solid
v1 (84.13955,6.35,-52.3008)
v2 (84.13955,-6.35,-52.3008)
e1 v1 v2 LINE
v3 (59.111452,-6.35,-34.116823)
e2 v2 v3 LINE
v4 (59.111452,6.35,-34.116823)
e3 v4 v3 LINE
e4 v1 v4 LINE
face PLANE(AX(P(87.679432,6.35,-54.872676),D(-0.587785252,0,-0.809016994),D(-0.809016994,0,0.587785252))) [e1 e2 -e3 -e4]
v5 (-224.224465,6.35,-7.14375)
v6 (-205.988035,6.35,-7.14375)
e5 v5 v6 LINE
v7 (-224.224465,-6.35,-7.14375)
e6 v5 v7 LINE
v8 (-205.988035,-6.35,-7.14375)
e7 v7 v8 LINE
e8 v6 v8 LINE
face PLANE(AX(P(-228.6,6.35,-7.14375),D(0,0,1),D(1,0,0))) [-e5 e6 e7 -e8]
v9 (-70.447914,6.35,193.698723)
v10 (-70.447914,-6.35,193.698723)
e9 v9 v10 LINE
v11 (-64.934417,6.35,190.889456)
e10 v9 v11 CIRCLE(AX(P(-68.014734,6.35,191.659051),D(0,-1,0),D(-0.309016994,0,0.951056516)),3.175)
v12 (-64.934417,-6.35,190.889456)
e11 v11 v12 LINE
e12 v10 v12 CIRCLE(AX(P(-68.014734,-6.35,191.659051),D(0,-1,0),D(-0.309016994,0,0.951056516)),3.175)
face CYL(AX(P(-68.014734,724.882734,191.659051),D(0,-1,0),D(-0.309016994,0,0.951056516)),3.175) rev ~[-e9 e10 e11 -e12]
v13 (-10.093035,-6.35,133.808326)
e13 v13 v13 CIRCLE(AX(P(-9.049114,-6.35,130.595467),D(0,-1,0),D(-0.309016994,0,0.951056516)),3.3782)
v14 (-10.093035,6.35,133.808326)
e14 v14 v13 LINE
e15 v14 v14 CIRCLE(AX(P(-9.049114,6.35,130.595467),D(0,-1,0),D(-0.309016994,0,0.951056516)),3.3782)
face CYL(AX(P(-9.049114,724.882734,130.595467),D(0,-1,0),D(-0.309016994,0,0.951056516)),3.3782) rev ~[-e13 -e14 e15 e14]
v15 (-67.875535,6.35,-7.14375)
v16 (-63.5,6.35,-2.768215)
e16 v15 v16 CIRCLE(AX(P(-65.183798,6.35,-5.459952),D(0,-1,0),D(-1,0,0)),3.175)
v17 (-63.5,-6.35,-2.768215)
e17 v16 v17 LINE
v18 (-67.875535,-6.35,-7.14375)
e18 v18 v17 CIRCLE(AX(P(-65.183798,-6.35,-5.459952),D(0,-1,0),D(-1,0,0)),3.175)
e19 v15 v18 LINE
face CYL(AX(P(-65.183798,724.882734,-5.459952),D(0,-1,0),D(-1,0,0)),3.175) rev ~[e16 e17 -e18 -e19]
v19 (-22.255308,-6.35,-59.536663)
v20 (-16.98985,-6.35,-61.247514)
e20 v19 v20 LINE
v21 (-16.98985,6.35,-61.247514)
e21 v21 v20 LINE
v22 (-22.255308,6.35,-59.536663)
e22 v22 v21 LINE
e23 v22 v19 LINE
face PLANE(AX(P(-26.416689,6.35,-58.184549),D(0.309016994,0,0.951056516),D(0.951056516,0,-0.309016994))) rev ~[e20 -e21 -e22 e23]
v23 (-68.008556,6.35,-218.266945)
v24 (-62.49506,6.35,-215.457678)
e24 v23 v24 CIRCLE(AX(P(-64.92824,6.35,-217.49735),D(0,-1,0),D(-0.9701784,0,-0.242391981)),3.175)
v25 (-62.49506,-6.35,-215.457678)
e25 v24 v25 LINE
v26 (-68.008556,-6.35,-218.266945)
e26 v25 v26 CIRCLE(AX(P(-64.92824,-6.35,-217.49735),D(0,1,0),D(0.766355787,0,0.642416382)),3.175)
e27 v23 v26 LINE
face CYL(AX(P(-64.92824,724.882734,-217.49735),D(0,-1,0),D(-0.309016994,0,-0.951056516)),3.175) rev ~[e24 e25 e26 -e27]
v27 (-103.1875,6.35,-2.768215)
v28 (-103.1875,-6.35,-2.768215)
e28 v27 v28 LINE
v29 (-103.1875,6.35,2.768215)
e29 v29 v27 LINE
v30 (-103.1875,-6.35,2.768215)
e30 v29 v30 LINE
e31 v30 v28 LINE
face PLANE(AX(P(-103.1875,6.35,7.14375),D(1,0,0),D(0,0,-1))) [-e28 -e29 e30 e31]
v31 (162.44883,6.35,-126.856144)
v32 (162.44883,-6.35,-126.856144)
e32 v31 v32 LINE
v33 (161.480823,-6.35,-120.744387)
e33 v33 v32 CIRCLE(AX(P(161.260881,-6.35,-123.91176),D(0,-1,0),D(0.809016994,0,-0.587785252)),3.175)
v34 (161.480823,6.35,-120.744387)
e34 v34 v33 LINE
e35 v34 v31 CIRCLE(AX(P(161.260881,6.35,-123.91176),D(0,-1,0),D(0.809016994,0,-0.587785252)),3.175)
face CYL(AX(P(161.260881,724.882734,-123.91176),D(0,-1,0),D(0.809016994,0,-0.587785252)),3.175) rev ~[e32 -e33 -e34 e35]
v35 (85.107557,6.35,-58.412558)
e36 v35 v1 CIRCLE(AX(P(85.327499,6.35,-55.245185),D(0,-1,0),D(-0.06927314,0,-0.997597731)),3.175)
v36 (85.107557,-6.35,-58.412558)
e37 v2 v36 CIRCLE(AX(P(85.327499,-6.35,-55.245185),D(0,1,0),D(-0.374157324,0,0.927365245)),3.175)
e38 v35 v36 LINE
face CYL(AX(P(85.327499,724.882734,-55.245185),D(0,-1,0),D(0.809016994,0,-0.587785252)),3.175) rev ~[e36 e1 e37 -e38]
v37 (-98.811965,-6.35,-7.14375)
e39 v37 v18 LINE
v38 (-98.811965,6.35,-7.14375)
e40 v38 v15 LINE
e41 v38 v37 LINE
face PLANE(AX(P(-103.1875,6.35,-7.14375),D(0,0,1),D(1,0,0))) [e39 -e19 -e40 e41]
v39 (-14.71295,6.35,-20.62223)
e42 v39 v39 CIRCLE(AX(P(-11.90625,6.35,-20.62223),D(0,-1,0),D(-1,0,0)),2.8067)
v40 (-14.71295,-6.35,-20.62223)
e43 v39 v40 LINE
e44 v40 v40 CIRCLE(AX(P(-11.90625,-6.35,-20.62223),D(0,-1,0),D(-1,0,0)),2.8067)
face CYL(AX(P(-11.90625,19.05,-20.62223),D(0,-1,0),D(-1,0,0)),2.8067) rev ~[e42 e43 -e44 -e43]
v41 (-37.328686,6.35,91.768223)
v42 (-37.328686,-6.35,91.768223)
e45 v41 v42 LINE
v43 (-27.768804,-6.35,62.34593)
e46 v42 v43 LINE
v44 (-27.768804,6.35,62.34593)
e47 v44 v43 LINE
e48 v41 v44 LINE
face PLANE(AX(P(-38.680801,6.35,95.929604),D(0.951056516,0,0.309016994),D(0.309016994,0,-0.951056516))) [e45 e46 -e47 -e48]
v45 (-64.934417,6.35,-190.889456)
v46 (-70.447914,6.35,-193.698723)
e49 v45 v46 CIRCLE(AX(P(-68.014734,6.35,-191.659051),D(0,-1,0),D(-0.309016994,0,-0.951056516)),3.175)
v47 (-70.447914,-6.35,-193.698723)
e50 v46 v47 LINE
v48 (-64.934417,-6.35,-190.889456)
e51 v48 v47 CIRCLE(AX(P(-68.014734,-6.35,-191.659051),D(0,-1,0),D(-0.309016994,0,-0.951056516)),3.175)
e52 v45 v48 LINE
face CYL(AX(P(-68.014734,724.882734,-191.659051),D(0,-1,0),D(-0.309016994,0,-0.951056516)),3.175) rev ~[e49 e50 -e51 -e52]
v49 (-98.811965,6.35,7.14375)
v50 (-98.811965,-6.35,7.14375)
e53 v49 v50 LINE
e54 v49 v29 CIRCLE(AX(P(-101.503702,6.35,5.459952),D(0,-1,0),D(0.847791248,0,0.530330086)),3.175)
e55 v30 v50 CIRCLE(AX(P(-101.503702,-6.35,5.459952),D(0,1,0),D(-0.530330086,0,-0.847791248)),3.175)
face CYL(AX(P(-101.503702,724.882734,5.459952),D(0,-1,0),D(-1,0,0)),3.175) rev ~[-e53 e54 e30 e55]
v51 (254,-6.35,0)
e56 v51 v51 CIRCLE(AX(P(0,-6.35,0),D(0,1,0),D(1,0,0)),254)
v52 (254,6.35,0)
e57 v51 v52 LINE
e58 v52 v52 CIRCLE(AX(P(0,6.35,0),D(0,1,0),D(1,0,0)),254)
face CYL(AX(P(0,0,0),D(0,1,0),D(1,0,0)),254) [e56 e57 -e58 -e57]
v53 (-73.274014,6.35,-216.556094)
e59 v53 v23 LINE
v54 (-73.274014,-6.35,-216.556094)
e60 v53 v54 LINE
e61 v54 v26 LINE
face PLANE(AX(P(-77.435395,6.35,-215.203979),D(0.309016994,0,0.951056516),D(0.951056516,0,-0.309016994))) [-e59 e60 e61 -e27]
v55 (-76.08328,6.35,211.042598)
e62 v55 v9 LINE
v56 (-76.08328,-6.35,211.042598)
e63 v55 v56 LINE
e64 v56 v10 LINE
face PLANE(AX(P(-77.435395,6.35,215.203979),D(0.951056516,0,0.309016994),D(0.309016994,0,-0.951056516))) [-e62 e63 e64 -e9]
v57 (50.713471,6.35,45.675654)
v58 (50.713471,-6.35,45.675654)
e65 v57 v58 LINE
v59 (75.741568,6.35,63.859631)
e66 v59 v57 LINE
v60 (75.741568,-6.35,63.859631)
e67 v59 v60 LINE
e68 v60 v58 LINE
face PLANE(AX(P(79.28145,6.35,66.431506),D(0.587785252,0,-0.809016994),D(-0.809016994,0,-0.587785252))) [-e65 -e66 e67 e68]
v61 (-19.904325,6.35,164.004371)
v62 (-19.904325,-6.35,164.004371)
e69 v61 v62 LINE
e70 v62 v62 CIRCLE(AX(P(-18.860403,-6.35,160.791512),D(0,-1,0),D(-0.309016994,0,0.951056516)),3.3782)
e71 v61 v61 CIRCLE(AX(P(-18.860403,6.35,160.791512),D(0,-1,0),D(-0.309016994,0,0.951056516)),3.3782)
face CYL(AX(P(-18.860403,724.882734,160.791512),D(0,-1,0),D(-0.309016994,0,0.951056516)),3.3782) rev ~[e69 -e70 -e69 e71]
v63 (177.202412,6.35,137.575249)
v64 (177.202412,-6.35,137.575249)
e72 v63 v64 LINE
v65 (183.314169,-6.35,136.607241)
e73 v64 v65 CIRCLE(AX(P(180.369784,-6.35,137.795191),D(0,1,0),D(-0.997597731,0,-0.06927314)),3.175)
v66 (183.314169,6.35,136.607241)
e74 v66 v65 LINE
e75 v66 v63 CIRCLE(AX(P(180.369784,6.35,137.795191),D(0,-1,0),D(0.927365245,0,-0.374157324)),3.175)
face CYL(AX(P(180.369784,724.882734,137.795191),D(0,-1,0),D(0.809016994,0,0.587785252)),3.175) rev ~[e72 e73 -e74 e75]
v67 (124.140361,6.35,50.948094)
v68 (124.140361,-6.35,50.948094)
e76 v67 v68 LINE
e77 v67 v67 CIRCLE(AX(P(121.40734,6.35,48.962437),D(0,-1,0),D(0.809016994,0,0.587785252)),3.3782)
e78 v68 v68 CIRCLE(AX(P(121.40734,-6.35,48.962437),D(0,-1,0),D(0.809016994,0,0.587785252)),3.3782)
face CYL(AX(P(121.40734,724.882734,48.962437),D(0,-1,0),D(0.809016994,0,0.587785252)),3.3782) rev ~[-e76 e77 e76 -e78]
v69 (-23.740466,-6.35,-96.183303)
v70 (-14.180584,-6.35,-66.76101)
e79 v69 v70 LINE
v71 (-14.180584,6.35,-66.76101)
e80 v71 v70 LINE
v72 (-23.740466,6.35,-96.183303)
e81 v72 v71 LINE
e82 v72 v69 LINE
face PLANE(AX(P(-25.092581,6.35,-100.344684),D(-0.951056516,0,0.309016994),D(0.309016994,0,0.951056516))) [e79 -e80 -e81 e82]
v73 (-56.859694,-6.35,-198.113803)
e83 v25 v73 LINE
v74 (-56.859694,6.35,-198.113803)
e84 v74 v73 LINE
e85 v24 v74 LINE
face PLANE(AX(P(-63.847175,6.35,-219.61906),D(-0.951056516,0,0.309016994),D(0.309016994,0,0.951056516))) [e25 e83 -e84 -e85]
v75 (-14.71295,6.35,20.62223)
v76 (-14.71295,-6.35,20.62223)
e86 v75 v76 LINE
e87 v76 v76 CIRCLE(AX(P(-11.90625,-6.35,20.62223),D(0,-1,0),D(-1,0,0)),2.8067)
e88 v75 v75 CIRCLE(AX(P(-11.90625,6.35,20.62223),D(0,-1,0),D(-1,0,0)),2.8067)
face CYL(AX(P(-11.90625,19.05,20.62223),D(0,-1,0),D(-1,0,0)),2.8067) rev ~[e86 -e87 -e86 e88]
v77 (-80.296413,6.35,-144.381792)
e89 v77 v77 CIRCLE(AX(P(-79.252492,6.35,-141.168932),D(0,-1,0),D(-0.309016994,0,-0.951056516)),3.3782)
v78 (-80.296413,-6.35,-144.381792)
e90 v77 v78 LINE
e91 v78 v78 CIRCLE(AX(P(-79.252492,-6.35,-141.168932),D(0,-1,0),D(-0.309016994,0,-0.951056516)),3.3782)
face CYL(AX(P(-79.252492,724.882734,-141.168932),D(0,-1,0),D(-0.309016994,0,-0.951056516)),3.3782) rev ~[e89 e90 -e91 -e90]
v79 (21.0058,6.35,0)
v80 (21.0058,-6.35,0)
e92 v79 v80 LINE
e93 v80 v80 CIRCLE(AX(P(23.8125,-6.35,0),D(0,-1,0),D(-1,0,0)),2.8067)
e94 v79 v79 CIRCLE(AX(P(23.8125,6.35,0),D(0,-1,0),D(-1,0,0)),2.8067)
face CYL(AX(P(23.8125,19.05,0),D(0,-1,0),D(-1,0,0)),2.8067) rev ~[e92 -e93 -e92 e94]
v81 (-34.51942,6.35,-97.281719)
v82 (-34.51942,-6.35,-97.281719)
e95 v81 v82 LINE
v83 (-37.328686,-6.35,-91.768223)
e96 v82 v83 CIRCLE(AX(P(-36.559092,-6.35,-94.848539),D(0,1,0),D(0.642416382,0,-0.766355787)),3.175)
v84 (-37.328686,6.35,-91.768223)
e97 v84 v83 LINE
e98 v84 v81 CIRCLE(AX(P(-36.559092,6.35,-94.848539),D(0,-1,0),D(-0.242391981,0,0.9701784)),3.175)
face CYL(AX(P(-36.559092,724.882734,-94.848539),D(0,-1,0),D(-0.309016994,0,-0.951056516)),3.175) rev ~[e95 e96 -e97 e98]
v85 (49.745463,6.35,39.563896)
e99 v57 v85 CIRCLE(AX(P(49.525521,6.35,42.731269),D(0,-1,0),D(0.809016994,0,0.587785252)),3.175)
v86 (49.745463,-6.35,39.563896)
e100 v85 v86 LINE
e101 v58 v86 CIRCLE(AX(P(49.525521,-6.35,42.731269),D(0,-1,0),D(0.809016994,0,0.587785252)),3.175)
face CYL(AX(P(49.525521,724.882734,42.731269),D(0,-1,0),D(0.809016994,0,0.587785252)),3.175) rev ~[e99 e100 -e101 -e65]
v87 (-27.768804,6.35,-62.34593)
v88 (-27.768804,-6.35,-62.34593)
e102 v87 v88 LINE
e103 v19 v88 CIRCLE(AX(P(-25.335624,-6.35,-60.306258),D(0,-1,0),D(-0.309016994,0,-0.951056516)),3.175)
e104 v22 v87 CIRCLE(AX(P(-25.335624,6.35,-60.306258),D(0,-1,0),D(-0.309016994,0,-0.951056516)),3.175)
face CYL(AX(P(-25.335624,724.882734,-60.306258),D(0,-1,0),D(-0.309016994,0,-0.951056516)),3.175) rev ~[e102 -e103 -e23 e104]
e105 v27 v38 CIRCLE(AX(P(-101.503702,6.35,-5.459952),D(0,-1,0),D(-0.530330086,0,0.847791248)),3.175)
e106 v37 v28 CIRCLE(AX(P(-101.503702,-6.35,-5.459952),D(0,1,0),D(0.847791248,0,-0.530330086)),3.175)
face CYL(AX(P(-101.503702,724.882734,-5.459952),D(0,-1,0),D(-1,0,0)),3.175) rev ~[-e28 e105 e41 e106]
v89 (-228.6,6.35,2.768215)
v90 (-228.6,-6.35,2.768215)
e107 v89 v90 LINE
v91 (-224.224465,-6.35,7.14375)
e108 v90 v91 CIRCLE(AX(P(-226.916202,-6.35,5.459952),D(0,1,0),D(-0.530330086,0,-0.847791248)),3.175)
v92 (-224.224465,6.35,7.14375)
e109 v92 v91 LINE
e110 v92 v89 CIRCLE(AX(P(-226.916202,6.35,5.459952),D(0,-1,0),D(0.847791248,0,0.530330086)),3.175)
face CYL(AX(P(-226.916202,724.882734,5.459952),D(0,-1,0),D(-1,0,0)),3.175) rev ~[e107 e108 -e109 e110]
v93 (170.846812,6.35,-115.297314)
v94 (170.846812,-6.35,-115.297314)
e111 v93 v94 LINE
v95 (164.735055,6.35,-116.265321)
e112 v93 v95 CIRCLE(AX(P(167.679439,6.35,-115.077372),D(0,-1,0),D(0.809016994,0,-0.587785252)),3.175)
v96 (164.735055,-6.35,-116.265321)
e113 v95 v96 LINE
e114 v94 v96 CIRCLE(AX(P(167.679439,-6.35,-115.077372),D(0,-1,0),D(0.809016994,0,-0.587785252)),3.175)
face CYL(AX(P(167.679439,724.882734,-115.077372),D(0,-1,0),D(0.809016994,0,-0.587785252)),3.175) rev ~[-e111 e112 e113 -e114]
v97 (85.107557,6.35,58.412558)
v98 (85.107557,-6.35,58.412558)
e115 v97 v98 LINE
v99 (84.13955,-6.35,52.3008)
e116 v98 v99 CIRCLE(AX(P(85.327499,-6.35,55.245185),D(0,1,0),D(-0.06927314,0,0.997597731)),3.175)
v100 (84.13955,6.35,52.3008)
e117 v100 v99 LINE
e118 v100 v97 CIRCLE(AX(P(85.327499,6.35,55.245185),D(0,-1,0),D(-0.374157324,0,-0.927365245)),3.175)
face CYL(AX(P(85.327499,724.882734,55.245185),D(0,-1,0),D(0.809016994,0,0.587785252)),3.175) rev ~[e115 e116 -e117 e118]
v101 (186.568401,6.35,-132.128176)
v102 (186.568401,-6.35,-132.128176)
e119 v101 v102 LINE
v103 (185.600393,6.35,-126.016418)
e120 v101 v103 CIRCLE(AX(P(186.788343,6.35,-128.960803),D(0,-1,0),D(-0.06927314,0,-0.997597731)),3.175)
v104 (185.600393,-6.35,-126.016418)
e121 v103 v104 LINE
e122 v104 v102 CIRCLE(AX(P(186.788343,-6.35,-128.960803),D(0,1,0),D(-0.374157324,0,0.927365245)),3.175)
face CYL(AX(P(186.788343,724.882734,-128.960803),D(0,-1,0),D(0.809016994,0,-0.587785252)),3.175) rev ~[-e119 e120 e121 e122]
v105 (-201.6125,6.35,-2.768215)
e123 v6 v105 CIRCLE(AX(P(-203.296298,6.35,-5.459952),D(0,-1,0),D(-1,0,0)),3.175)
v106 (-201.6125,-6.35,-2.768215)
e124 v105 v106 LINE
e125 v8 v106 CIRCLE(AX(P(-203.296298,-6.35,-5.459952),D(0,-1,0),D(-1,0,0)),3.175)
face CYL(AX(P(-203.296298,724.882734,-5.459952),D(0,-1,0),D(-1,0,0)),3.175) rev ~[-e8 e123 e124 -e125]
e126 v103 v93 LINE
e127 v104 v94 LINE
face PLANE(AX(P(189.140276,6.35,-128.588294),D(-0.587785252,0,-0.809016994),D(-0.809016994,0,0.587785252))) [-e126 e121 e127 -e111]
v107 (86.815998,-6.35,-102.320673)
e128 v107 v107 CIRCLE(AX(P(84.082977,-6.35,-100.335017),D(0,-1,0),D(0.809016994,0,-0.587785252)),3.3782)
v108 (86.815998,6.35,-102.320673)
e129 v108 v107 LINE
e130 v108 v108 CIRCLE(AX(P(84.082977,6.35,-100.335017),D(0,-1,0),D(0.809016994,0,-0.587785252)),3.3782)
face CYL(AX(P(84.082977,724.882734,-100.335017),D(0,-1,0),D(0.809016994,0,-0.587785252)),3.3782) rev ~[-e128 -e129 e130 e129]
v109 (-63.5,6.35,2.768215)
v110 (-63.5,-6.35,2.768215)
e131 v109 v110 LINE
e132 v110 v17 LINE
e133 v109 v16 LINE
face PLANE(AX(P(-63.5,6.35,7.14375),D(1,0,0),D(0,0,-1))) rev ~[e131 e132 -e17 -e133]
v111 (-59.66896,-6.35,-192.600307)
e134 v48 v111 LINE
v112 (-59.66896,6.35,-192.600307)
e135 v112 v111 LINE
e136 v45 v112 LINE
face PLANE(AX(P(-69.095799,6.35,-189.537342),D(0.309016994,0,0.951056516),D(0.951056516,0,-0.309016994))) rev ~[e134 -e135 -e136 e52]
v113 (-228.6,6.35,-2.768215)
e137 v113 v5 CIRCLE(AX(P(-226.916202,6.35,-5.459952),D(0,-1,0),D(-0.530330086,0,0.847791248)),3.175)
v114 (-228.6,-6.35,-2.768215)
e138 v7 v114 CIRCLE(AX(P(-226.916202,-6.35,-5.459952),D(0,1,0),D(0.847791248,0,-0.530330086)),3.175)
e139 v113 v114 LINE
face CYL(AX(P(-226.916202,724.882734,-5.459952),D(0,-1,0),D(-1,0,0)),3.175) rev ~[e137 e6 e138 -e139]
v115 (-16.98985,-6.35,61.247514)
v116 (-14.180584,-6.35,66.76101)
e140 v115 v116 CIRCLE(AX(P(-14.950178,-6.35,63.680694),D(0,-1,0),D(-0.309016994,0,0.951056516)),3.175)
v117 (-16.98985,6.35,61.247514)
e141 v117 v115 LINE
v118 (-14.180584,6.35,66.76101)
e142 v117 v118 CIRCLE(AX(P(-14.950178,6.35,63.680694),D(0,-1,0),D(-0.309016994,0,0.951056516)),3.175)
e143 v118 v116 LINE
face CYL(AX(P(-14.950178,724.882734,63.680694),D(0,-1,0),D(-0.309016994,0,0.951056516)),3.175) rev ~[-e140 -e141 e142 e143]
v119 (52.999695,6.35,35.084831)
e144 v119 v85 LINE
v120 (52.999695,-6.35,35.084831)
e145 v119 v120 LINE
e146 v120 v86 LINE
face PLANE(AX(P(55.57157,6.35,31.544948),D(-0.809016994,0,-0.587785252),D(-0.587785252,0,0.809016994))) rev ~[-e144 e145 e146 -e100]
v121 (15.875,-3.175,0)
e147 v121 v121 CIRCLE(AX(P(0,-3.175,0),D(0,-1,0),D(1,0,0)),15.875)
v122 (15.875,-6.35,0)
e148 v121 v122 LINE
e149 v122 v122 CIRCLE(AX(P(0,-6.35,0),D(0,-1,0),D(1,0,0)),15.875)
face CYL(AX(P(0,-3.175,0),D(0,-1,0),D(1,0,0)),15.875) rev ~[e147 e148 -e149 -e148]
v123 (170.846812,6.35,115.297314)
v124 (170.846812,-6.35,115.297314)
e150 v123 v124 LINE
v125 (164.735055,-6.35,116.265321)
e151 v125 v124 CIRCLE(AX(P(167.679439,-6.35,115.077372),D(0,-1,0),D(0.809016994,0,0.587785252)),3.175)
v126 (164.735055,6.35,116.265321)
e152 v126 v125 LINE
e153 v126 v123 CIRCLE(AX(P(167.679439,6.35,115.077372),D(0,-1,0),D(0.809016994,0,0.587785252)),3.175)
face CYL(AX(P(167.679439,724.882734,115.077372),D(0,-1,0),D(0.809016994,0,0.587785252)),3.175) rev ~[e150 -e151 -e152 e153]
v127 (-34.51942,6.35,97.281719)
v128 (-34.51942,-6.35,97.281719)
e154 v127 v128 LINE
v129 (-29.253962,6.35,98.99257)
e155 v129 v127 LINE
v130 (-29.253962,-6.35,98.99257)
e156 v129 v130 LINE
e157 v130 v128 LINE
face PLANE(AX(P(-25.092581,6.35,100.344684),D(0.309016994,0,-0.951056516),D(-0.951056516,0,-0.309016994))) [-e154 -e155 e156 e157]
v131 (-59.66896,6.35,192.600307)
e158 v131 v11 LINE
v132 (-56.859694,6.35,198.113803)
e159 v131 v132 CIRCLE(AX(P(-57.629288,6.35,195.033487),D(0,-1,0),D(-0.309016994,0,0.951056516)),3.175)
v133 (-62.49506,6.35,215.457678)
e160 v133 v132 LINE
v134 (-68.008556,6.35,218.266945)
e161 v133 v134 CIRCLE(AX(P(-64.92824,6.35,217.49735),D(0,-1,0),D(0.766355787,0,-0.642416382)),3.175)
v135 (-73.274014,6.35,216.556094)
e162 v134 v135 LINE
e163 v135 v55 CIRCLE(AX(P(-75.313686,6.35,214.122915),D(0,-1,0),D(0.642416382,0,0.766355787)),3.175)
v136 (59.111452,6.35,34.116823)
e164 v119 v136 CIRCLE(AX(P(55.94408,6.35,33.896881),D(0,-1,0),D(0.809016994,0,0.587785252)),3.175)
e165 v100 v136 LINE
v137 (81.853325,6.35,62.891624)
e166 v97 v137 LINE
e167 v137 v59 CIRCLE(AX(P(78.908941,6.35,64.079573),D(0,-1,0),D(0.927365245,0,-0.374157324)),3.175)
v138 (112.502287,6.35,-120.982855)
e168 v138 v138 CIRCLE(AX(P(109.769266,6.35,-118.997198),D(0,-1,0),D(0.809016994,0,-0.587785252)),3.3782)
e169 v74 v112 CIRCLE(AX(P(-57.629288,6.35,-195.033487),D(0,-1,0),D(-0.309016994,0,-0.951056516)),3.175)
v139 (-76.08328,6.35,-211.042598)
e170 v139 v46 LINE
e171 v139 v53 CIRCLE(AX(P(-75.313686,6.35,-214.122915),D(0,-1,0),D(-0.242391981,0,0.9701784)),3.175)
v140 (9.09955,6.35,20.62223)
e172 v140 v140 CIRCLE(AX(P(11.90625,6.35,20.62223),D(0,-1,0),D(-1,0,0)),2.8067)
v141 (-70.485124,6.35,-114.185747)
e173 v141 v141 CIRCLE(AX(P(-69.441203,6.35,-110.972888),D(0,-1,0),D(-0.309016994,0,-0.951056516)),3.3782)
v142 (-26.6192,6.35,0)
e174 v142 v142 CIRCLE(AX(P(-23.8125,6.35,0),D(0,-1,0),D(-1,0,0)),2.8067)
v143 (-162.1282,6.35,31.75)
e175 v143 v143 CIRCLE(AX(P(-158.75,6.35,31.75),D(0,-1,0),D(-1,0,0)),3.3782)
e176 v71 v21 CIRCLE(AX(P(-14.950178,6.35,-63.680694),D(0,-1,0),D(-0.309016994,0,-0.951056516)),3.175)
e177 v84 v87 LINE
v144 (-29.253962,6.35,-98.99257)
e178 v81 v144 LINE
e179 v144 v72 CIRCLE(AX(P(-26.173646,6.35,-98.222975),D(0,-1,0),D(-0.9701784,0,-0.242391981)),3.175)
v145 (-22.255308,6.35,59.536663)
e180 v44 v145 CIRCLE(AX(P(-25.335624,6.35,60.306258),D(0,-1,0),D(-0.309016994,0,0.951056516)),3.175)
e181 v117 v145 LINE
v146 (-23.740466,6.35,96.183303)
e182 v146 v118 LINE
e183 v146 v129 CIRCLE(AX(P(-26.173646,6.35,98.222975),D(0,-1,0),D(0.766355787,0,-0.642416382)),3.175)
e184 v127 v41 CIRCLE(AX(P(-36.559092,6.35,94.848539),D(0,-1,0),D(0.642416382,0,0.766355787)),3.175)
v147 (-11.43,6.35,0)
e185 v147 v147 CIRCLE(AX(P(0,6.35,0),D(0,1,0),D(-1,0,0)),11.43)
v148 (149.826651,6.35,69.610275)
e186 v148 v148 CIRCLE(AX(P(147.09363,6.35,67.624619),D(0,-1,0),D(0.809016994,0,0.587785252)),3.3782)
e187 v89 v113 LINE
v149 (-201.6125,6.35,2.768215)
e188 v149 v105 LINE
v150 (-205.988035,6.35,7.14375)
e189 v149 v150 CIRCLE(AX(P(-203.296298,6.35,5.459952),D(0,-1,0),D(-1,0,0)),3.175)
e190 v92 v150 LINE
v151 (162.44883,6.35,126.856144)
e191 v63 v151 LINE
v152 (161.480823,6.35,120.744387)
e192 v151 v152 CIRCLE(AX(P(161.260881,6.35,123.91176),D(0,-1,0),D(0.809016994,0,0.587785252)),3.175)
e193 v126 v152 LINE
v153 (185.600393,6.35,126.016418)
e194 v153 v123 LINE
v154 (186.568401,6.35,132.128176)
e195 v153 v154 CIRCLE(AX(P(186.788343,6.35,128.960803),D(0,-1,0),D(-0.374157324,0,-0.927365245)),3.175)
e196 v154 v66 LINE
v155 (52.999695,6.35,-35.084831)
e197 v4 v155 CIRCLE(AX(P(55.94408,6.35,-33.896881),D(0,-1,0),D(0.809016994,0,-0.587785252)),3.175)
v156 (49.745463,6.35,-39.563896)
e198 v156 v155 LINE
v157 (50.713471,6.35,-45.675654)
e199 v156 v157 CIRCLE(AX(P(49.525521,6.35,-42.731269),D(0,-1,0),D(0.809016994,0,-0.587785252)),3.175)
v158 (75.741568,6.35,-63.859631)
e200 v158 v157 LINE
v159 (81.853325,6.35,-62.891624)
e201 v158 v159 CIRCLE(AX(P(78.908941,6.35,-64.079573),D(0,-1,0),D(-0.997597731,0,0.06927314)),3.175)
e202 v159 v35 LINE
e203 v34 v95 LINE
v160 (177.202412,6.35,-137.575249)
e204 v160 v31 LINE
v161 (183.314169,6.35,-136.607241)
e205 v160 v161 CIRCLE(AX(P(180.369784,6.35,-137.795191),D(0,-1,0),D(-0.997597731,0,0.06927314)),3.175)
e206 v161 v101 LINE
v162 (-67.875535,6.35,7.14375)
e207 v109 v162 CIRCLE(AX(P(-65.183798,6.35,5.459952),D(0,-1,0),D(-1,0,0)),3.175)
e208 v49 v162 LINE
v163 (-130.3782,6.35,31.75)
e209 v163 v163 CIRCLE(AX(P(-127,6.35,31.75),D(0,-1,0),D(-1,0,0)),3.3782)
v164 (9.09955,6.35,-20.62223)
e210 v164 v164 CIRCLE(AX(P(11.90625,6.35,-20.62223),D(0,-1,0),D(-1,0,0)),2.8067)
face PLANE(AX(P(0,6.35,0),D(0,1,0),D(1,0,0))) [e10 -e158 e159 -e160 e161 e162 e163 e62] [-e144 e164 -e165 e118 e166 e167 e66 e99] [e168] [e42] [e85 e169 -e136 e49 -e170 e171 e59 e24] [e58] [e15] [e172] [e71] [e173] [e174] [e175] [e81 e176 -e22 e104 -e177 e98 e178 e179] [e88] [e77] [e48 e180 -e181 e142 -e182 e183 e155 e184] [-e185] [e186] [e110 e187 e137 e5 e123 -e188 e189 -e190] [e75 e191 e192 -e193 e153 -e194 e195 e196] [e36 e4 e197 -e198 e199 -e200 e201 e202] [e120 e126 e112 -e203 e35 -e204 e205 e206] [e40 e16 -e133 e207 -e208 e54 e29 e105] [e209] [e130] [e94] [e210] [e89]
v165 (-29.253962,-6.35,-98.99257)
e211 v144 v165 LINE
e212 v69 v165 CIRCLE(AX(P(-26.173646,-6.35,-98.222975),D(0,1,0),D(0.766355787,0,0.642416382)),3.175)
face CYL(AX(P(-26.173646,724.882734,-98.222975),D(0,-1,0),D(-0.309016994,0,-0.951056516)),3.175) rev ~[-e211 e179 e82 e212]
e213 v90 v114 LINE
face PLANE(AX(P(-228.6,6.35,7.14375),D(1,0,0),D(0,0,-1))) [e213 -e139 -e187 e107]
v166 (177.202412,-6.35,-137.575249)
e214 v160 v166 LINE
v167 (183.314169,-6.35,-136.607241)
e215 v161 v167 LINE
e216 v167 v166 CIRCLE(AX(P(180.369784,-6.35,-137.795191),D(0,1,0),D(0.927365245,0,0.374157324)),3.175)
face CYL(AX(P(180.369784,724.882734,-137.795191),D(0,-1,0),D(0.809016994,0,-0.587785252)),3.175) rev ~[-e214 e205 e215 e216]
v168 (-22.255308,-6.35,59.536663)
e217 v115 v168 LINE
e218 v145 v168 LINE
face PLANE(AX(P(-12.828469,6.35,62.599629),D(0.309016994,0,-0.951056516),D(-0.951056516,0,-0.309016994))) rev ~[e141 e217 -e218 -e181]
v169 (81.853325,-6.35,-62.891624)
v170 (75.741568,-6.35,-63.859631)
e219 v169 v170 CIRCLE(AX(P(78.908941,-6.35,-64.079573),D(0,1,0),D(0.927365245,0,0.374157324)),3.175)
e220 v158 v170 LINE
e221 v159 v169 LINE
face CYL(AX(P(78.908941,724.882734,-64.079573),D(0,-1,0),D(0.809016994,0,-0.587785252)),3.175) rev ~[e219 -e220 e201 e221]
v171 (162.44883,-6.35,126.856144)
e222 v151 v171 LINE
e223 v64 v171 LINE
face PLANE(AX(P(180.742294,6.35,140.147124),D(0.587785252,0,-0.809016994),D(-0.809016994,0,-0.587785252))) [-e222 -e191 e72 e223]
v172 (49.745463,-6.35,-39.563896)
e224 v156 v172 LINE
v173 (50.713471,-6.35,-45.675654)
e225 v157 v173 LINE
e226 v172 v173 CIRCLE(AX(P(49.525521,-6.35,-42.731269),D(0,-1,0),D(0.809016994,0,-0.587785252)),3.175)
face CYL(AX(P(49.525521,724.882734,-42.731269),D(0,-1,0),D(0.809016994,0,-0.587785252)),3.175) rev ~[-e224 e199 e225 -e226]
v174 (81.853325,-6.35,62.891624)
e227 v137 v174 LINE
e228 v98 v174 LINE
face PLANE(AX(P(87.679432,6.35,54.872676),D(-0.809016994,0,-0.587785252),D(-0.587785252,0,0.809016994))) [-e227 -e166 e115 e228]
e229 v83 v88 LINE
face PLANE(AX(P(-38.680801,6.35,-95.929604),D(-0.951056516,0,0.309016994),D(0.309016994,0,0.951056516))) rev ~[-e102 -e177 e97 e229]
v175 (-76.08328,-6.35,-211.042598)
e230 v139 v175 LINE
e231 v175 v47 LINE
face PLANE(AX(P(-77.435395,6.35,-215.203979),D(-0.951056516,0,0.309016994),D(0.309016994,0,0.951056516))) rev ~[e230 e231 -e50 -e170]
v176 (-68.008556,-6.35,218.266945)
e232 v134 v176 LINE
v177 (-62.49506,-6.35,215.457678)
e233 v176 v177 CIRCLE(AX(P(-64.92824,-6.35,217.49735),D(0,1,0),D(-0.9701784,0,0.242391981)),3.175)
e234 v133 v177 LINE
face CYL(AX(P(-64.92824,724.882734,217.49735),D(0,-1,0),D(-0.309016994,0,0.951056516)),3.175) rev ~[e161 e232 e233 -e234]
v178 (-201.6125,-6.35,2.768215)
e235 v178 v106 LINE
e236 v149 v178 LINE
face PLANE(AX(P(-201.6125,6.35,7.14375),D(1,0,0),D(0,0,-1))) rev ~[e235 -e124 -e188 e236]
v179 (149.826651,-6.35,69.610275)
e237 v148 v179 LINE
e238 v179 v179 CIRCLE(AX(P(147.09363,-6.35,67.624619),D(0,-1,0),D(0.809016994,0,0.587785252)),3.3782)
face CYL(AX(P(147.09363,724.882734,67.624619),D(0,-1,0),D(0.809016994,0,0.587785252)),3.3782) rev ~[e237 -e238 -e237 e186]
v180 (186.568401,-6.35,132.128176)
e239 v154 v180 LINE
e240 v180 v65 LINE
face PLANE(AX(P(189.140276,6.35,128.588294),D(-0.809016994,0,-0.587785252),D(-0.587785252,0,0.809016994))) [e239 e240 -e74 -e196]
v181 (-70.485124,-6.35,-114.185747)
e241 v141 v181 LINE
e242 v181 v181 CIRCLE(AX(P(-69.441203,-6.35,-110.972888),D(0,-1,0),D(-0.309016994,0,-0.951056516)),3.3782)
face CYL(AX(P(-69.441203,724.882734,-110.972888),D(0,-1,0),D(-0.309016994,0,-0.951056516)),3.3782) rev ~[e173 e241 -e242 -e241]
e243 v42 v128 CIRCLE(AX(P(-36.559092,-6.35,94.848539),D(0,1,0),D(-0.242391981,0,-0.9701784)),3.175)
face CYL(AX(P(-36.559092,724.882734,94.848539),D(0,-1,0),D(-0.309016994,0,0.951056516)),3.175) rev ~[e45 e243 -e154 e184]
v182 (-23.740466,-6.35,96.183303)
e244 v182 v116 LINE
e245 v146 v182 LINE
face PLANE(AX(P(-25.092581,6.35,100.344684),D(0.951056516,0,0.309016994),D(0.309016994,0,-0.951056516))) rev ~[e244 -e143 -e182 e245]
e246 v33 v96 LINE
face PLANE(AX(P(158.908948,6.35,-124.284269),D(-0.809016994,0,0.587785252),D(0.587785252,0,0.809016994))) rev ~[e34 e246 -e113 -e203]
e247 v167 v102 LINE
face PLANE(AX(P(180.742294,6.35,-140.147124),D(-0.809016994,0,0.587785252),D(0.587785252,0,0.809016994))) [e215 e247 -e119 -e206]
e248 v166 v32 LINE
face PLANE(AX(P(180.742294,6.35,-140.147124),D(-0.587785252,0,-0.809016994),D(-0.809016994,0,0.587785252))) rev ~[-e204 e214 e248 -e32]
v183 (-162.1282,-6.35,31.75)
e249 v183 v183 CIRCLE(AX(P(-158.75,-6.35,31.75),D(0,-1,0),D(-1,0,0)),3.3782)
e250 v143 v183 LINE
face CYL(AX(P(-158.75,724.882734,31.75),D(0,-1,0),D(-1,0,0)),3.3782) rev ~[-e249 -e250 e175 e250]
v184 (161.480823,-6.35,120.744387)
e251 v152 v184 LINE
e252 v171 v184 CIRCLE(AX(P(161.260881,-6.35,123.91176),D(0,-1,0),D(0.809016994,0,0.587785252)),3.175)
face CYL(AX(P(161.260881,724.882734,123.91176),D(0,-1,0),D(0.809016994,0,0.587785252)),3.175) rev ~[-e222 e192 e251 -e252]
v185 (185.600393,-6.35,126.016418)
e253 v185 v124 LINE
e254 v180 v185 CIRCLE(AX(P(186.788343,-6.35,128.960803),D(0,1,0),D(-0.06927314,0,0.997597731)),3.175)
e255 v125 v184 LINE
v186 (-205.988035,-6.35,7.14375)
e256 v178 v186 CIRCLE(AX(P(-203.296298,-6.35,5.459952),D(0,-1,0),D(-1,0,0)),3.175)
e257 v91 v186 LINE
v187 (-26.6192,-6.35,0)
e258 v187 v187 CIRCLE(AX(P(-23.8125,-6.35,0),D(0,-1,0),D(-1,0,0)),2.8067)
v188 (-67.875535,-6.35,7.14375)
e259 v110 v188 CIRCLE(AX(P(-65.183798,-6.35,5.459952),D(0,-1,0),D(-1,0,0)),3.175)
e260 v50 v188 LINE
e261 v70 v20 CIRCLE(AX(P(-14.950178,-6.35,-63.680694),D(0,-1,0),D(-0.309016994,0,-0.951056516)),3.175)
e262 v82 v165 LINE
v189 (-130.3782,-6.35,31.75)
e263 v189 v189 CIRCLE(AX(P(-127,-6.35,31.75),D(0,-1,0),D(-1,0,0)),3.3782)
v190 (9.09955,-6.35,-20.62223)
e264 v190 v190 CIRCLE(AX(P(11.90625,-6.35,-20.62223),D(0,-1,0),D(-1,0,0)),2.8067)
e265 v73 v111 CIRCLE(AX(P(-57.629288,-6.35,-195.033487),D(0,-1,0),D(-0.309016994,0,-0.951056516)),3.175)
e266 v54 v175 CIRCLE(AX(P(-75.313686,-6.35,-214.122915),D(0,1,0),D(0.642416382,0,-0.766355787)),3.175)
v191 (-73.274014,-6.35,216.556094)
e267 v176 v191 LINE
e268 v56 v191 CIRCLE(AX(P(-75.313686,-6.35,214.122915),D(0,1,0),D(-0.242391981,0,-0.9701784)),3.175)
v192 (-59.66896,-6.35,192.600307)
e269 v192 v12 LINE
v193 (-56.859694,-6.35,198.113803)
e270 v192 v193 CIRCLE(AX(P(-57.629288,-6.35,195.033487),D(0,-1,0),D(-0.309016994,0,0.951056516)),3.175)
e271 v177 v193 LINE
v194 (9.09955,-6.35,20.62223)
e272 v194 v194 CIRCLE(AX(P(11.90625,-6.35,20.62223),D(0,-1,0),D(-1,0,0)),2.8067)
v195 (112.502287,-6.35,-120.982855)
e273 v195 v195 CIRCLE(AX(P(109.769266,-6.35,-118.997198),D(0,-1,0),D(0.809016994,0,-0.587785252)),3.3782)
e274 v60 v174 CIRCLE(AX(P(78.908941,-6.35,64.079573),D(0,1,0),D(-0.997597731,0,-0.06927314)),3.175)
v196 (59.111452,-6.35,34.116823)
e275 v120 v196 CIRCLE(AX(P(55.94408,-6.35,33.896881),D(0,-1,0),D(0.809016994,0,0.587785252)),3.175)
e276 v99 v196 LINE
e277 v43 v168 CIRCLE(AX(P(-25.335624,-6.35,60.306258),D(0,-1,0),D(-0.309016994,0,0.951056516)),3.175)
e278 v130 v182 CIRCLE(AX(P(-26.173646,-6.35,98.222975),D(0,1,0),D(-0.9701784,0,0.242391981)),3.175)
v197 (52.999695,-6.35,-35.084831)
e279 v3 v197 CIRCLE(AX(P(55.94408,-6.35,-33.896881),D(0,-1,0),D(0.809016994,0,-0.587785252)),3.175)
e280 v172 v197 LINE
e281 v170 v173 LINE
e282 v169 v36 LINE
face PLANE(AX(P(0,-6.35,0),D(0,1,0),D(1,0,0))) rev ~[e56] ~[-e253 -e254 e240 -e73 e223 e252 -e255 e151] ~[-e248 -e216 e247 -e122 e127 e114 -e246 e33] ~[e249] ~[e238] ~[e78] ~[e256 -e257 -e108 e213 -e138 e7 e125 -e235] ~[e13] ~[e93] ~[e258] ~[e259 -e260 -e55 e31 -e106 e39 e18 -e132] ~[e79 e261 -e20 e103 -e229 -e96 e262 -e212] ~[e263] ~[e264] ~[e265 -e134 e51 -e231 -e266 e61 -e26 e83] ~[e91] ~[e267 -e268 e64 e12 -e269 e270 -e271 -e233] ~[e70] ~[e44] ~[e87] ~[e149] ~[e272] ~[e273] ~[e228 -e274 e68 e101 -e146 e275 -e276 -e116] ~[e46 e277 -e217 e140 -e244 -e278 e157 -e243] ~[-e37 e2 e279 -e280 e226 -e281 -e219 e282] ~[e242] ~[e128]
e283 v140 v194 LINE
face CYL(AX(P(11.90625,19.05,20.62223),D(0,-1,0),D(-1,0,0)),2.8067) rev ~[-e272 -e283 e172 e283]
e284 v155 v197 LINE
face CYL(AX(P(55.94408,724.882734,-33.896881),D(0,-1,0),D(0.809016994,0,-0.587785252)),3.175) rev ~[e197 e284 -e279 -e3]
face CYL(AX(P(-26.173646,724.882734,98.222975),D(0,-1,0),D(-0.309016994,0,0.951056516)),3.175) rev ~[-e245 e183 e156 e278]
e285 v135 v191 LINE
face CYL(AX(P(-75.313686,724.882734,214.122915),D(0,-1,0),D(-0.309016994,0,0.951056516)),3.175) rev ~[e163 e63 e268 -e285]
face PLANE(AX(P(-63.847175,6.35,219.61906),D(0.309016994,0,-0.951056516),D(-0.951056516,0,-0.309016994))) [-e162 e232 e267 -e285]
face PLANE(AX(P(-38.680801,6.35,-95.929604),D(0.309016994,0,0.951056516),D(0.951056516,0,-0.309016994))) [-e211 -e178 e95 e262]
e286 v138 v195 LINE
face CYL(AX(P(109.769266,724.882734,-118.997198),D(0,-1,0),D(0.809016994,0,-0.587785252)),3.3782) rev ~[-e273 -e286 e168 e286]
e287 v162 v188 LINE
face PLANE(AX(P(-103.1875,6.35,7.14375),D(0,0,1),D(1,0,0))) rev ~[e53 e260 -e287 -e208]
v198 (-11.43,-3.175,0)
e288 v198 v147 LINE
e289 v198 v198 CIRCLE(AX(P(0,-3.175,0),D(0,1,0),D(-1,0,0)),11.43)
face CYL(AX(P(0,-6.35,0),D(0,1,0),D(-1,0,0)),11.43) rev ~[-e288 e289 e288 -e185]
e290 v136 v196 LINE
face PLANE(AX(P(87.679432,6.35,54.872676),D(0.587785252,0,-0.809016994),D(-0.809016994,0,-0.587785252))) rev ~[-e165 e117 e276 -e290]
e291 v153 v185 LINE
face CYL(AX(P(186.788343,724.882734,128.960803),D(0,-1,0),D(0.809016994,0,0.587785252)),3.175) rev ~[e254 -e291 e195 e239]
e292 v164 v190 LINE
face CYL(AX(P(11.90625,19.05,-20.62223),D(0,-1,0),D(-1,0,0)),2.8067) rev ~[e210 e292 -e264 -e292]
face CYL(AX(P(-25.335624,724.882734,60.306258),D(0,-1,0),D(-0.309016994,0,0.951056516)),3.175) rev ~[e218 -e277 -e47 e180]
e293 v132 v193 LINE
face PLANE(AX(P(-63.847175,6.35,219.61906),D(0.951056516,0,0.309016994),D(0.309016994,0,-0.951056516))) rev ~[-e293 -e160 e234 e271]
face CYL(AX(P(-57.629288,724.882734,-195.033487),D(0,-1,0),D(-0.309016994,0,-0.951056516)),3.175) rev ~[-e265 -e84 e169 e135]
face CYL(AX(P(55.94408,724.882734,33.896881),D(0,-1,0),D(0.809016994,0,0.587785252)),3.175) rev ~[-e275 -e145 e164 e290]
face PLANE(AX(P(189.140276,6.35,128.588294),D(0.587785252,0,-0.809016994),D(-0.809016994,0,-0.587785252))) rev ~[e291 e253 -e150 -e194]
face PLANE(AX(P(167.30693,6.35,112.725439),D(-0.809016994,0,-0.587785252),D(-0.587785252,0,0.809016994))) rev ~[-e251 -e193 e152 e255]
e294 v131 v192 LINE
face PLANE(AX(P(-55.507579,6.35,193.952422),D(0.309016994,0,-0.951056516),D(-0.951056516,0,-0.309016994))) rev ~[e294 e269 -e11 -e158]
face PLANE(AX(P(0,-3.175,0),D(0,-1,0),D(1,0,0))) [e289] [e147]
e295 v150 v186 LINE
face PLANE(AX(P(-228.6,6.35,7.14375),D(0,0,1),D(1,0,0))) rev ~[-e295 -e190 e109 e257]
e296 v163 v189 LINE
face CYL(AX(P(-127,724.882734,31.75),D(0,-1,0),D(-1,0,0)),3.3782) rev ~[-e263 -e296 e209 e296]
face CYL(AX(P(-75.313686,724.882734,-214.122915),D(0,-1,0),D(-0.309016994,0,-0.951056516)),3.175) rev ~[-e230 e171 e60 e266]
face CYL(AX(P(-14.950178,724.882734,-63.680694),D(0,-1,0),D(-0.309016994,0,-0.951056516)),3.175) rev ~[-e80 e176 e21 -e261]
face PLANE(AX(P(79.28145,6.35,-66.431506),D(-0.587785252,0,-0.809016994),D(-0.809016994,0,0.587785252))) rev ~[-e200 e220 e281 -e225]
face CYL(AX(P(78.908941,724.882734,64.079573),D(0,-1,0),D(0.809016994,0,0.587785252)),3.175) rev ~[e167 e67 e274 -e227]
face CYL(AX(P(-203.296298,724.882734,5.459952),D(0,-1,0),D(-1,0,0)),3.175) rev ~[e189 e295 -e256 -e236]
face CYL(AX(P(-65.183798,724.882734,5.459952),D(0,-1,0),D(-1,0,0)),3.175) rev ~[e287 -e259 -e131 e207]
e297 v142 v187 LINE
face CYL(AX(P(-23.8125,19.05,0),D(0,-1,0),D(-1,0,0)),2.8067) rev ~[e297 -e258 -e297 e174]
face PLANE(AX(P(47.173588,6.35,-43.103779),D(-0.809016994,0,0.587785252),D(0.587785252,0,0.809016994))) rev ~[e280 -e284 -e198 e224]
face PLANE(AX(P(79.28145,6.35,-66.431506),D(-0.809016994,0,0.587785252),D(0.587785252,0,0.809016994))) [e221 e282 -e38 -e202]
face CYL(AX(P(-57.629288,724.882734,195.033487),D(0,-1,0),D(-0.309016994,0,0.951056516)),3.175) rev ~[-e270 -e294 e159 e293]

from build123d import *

# Parameters (mm, degrees)
SKETCH1_R                                = 254
BOSS_EXTRUDE1_DEPTH                      = 6.35
F_10_CLEARANCE_HOLE1_D                   = 5.6134
F_10_CLEARANCE_HOLE1_DEPTH               = 12.7
SKETCH3_W                                = 39.6875
SKETCH3_H                                = 14.2875
SKETCH3_W_2                              = 26.9875
CUT_EXTRUDE2_DEPTH                       = 13.7
F_1_4_CLEARANCE_HOLE1_D                  = 6.7564
F_1_4_0_2500_DOWEL_HOLE2_D               = 6.35
CIRPATTERN1_COUNT                        = 5
CBORE_FOR_1_4_HEX_HEAD_BOLT1_D           = 22.86
CBORE_FOR_1_4_HEX_HEAD_BOLT1_CBORE_D     = 31.75
CBORE_FOR_1_4_HEX_HEAD_BOLT1_CBORE_DEPTH = 3.175


with BuildPart() as part:
    # Sketch1 → Boss-Extrude1 (new body, symmetric)
    with BuildSketch(Plane(origin=(0, 0, 0), x_dir=(1, 0, 0), z_dir=(0, 1, 0))):
        Circle(SKETCH1_R)
    extrude(amount=BOSS_EXTRUDE1_DEPTH, both=True)

    # #10 Clearance Hole1
    with Locations(Plane(origin=(0, 6.35, 0), x_dir=(1, 0, 0), z_dir=(0, 1, 0))):
        with Locations((-11.90625, 20.622229928), (11.90625, 20.622229928), (23.8125, 0), (11.90625, -20.622229928), (-11.90625, -20.622229928), (-23.8125, 0)):
            Hole(F_10_CLEARANCE_HOLE1_D / 2, depth=F_10_CLEARANCE_HOLE1_DEPTH)

    # Sketch3 → Cut-Extrude2 (cut, through all)
    with BuildSketch(Plane(origin=(0, 6.35, 0), x_dir=(1, 0, 0), z_dir=(0, 1, 0))):
        with Locations((-83.34375, 0)):
            Rectangle(SKETCH3_W, SKETCH3_H)
        with Locations((-215.10625, 0)):
            Rectangle(SKETCH3_W_2, SKETCH3_H)
    cut_extrude2 = extrude(amount=-CUT_EXTRUDE2_DEPTH, mode=Mode.SUBTRACT)

    # 1/4 Clearance Hole1 (through all)
    with Locations(Plane(origin=(0, 6.35, 0), x_dir=(1, 0, 0), z_dir=(0, 1, 0))):
        with Locations((-158.75, -31.75), (-127, -31.75)):
            f_1_4_clearance_hole1 = Hole(F_1_4_CLEARANCE_HOLE1_D / 2)

    # 1/4 (0.2500) Dowel Hole2 (through all)
    with Locations(Plane(origin=(0, 6.35, 0), x_dir=(1, 0, 0), z_dir=(0, 1, 0))):
        with Locations((-65.183798023, 5.459951977), (-65.183798023, -5.459951977), (-101.503701977, -5.459951977), (-101.503701977, 5.459951977), (-203.296298023, 5.459951977), (-203.296298023, -5.459951977), (-226.916201977, -5.459951977), (-226.916201977, 5.459951977)):
            f_1_4_0_2500_dowel_hole2 = Hole(F_1_4_0_2500_DOWEL_HOLE2_D / 2)

    # CirPattern1: Cut-Extrude2, 1/4 Clearance Hole1, 1/4 (0.2500) Dowel Hole2 ×5 about axis
    cirpattern1_axis = Axis((0, 0, 0), (0, 1, 0))
    for i in range(1, CIRPATTERN1_COUNT):
        add(cut_extrude2.rotate(cirpattern1_axis, i * 360 / CIRPATTERN1_COUNT), mode=Mode.SUBTRACT)
        add(f_1_4_clearance_hole1.rotate(cirpattern1_axis, i * 360 / CIRPATTERN1_COUNT), mode=Mode.SUBTRACT)
        add(f_1_4_0_2500_dowel_hole2.rotate(cirpattern1_axis, i * 360 / CIRPATTERN1_COUNT), mode=Mode.SUBTRACT)

    # CBORE for 1/4 Hex Head Bolt1 (through all)
    with Locations(Plane.XZ.offset(6.35)):
        with Locations((0, 0)):
            CounterBoreHole(CBORE_FOR_1_4_HEX_HEAD_BOLT1_D / 2, CBORE_FOR_1_4_HEX_HEAD_BOLT1_CBORE_D / 2, CBORE_FOR_1_4_HEX_HEAD_BOLT1_CBORE_DEPTH)


solid = part.part
